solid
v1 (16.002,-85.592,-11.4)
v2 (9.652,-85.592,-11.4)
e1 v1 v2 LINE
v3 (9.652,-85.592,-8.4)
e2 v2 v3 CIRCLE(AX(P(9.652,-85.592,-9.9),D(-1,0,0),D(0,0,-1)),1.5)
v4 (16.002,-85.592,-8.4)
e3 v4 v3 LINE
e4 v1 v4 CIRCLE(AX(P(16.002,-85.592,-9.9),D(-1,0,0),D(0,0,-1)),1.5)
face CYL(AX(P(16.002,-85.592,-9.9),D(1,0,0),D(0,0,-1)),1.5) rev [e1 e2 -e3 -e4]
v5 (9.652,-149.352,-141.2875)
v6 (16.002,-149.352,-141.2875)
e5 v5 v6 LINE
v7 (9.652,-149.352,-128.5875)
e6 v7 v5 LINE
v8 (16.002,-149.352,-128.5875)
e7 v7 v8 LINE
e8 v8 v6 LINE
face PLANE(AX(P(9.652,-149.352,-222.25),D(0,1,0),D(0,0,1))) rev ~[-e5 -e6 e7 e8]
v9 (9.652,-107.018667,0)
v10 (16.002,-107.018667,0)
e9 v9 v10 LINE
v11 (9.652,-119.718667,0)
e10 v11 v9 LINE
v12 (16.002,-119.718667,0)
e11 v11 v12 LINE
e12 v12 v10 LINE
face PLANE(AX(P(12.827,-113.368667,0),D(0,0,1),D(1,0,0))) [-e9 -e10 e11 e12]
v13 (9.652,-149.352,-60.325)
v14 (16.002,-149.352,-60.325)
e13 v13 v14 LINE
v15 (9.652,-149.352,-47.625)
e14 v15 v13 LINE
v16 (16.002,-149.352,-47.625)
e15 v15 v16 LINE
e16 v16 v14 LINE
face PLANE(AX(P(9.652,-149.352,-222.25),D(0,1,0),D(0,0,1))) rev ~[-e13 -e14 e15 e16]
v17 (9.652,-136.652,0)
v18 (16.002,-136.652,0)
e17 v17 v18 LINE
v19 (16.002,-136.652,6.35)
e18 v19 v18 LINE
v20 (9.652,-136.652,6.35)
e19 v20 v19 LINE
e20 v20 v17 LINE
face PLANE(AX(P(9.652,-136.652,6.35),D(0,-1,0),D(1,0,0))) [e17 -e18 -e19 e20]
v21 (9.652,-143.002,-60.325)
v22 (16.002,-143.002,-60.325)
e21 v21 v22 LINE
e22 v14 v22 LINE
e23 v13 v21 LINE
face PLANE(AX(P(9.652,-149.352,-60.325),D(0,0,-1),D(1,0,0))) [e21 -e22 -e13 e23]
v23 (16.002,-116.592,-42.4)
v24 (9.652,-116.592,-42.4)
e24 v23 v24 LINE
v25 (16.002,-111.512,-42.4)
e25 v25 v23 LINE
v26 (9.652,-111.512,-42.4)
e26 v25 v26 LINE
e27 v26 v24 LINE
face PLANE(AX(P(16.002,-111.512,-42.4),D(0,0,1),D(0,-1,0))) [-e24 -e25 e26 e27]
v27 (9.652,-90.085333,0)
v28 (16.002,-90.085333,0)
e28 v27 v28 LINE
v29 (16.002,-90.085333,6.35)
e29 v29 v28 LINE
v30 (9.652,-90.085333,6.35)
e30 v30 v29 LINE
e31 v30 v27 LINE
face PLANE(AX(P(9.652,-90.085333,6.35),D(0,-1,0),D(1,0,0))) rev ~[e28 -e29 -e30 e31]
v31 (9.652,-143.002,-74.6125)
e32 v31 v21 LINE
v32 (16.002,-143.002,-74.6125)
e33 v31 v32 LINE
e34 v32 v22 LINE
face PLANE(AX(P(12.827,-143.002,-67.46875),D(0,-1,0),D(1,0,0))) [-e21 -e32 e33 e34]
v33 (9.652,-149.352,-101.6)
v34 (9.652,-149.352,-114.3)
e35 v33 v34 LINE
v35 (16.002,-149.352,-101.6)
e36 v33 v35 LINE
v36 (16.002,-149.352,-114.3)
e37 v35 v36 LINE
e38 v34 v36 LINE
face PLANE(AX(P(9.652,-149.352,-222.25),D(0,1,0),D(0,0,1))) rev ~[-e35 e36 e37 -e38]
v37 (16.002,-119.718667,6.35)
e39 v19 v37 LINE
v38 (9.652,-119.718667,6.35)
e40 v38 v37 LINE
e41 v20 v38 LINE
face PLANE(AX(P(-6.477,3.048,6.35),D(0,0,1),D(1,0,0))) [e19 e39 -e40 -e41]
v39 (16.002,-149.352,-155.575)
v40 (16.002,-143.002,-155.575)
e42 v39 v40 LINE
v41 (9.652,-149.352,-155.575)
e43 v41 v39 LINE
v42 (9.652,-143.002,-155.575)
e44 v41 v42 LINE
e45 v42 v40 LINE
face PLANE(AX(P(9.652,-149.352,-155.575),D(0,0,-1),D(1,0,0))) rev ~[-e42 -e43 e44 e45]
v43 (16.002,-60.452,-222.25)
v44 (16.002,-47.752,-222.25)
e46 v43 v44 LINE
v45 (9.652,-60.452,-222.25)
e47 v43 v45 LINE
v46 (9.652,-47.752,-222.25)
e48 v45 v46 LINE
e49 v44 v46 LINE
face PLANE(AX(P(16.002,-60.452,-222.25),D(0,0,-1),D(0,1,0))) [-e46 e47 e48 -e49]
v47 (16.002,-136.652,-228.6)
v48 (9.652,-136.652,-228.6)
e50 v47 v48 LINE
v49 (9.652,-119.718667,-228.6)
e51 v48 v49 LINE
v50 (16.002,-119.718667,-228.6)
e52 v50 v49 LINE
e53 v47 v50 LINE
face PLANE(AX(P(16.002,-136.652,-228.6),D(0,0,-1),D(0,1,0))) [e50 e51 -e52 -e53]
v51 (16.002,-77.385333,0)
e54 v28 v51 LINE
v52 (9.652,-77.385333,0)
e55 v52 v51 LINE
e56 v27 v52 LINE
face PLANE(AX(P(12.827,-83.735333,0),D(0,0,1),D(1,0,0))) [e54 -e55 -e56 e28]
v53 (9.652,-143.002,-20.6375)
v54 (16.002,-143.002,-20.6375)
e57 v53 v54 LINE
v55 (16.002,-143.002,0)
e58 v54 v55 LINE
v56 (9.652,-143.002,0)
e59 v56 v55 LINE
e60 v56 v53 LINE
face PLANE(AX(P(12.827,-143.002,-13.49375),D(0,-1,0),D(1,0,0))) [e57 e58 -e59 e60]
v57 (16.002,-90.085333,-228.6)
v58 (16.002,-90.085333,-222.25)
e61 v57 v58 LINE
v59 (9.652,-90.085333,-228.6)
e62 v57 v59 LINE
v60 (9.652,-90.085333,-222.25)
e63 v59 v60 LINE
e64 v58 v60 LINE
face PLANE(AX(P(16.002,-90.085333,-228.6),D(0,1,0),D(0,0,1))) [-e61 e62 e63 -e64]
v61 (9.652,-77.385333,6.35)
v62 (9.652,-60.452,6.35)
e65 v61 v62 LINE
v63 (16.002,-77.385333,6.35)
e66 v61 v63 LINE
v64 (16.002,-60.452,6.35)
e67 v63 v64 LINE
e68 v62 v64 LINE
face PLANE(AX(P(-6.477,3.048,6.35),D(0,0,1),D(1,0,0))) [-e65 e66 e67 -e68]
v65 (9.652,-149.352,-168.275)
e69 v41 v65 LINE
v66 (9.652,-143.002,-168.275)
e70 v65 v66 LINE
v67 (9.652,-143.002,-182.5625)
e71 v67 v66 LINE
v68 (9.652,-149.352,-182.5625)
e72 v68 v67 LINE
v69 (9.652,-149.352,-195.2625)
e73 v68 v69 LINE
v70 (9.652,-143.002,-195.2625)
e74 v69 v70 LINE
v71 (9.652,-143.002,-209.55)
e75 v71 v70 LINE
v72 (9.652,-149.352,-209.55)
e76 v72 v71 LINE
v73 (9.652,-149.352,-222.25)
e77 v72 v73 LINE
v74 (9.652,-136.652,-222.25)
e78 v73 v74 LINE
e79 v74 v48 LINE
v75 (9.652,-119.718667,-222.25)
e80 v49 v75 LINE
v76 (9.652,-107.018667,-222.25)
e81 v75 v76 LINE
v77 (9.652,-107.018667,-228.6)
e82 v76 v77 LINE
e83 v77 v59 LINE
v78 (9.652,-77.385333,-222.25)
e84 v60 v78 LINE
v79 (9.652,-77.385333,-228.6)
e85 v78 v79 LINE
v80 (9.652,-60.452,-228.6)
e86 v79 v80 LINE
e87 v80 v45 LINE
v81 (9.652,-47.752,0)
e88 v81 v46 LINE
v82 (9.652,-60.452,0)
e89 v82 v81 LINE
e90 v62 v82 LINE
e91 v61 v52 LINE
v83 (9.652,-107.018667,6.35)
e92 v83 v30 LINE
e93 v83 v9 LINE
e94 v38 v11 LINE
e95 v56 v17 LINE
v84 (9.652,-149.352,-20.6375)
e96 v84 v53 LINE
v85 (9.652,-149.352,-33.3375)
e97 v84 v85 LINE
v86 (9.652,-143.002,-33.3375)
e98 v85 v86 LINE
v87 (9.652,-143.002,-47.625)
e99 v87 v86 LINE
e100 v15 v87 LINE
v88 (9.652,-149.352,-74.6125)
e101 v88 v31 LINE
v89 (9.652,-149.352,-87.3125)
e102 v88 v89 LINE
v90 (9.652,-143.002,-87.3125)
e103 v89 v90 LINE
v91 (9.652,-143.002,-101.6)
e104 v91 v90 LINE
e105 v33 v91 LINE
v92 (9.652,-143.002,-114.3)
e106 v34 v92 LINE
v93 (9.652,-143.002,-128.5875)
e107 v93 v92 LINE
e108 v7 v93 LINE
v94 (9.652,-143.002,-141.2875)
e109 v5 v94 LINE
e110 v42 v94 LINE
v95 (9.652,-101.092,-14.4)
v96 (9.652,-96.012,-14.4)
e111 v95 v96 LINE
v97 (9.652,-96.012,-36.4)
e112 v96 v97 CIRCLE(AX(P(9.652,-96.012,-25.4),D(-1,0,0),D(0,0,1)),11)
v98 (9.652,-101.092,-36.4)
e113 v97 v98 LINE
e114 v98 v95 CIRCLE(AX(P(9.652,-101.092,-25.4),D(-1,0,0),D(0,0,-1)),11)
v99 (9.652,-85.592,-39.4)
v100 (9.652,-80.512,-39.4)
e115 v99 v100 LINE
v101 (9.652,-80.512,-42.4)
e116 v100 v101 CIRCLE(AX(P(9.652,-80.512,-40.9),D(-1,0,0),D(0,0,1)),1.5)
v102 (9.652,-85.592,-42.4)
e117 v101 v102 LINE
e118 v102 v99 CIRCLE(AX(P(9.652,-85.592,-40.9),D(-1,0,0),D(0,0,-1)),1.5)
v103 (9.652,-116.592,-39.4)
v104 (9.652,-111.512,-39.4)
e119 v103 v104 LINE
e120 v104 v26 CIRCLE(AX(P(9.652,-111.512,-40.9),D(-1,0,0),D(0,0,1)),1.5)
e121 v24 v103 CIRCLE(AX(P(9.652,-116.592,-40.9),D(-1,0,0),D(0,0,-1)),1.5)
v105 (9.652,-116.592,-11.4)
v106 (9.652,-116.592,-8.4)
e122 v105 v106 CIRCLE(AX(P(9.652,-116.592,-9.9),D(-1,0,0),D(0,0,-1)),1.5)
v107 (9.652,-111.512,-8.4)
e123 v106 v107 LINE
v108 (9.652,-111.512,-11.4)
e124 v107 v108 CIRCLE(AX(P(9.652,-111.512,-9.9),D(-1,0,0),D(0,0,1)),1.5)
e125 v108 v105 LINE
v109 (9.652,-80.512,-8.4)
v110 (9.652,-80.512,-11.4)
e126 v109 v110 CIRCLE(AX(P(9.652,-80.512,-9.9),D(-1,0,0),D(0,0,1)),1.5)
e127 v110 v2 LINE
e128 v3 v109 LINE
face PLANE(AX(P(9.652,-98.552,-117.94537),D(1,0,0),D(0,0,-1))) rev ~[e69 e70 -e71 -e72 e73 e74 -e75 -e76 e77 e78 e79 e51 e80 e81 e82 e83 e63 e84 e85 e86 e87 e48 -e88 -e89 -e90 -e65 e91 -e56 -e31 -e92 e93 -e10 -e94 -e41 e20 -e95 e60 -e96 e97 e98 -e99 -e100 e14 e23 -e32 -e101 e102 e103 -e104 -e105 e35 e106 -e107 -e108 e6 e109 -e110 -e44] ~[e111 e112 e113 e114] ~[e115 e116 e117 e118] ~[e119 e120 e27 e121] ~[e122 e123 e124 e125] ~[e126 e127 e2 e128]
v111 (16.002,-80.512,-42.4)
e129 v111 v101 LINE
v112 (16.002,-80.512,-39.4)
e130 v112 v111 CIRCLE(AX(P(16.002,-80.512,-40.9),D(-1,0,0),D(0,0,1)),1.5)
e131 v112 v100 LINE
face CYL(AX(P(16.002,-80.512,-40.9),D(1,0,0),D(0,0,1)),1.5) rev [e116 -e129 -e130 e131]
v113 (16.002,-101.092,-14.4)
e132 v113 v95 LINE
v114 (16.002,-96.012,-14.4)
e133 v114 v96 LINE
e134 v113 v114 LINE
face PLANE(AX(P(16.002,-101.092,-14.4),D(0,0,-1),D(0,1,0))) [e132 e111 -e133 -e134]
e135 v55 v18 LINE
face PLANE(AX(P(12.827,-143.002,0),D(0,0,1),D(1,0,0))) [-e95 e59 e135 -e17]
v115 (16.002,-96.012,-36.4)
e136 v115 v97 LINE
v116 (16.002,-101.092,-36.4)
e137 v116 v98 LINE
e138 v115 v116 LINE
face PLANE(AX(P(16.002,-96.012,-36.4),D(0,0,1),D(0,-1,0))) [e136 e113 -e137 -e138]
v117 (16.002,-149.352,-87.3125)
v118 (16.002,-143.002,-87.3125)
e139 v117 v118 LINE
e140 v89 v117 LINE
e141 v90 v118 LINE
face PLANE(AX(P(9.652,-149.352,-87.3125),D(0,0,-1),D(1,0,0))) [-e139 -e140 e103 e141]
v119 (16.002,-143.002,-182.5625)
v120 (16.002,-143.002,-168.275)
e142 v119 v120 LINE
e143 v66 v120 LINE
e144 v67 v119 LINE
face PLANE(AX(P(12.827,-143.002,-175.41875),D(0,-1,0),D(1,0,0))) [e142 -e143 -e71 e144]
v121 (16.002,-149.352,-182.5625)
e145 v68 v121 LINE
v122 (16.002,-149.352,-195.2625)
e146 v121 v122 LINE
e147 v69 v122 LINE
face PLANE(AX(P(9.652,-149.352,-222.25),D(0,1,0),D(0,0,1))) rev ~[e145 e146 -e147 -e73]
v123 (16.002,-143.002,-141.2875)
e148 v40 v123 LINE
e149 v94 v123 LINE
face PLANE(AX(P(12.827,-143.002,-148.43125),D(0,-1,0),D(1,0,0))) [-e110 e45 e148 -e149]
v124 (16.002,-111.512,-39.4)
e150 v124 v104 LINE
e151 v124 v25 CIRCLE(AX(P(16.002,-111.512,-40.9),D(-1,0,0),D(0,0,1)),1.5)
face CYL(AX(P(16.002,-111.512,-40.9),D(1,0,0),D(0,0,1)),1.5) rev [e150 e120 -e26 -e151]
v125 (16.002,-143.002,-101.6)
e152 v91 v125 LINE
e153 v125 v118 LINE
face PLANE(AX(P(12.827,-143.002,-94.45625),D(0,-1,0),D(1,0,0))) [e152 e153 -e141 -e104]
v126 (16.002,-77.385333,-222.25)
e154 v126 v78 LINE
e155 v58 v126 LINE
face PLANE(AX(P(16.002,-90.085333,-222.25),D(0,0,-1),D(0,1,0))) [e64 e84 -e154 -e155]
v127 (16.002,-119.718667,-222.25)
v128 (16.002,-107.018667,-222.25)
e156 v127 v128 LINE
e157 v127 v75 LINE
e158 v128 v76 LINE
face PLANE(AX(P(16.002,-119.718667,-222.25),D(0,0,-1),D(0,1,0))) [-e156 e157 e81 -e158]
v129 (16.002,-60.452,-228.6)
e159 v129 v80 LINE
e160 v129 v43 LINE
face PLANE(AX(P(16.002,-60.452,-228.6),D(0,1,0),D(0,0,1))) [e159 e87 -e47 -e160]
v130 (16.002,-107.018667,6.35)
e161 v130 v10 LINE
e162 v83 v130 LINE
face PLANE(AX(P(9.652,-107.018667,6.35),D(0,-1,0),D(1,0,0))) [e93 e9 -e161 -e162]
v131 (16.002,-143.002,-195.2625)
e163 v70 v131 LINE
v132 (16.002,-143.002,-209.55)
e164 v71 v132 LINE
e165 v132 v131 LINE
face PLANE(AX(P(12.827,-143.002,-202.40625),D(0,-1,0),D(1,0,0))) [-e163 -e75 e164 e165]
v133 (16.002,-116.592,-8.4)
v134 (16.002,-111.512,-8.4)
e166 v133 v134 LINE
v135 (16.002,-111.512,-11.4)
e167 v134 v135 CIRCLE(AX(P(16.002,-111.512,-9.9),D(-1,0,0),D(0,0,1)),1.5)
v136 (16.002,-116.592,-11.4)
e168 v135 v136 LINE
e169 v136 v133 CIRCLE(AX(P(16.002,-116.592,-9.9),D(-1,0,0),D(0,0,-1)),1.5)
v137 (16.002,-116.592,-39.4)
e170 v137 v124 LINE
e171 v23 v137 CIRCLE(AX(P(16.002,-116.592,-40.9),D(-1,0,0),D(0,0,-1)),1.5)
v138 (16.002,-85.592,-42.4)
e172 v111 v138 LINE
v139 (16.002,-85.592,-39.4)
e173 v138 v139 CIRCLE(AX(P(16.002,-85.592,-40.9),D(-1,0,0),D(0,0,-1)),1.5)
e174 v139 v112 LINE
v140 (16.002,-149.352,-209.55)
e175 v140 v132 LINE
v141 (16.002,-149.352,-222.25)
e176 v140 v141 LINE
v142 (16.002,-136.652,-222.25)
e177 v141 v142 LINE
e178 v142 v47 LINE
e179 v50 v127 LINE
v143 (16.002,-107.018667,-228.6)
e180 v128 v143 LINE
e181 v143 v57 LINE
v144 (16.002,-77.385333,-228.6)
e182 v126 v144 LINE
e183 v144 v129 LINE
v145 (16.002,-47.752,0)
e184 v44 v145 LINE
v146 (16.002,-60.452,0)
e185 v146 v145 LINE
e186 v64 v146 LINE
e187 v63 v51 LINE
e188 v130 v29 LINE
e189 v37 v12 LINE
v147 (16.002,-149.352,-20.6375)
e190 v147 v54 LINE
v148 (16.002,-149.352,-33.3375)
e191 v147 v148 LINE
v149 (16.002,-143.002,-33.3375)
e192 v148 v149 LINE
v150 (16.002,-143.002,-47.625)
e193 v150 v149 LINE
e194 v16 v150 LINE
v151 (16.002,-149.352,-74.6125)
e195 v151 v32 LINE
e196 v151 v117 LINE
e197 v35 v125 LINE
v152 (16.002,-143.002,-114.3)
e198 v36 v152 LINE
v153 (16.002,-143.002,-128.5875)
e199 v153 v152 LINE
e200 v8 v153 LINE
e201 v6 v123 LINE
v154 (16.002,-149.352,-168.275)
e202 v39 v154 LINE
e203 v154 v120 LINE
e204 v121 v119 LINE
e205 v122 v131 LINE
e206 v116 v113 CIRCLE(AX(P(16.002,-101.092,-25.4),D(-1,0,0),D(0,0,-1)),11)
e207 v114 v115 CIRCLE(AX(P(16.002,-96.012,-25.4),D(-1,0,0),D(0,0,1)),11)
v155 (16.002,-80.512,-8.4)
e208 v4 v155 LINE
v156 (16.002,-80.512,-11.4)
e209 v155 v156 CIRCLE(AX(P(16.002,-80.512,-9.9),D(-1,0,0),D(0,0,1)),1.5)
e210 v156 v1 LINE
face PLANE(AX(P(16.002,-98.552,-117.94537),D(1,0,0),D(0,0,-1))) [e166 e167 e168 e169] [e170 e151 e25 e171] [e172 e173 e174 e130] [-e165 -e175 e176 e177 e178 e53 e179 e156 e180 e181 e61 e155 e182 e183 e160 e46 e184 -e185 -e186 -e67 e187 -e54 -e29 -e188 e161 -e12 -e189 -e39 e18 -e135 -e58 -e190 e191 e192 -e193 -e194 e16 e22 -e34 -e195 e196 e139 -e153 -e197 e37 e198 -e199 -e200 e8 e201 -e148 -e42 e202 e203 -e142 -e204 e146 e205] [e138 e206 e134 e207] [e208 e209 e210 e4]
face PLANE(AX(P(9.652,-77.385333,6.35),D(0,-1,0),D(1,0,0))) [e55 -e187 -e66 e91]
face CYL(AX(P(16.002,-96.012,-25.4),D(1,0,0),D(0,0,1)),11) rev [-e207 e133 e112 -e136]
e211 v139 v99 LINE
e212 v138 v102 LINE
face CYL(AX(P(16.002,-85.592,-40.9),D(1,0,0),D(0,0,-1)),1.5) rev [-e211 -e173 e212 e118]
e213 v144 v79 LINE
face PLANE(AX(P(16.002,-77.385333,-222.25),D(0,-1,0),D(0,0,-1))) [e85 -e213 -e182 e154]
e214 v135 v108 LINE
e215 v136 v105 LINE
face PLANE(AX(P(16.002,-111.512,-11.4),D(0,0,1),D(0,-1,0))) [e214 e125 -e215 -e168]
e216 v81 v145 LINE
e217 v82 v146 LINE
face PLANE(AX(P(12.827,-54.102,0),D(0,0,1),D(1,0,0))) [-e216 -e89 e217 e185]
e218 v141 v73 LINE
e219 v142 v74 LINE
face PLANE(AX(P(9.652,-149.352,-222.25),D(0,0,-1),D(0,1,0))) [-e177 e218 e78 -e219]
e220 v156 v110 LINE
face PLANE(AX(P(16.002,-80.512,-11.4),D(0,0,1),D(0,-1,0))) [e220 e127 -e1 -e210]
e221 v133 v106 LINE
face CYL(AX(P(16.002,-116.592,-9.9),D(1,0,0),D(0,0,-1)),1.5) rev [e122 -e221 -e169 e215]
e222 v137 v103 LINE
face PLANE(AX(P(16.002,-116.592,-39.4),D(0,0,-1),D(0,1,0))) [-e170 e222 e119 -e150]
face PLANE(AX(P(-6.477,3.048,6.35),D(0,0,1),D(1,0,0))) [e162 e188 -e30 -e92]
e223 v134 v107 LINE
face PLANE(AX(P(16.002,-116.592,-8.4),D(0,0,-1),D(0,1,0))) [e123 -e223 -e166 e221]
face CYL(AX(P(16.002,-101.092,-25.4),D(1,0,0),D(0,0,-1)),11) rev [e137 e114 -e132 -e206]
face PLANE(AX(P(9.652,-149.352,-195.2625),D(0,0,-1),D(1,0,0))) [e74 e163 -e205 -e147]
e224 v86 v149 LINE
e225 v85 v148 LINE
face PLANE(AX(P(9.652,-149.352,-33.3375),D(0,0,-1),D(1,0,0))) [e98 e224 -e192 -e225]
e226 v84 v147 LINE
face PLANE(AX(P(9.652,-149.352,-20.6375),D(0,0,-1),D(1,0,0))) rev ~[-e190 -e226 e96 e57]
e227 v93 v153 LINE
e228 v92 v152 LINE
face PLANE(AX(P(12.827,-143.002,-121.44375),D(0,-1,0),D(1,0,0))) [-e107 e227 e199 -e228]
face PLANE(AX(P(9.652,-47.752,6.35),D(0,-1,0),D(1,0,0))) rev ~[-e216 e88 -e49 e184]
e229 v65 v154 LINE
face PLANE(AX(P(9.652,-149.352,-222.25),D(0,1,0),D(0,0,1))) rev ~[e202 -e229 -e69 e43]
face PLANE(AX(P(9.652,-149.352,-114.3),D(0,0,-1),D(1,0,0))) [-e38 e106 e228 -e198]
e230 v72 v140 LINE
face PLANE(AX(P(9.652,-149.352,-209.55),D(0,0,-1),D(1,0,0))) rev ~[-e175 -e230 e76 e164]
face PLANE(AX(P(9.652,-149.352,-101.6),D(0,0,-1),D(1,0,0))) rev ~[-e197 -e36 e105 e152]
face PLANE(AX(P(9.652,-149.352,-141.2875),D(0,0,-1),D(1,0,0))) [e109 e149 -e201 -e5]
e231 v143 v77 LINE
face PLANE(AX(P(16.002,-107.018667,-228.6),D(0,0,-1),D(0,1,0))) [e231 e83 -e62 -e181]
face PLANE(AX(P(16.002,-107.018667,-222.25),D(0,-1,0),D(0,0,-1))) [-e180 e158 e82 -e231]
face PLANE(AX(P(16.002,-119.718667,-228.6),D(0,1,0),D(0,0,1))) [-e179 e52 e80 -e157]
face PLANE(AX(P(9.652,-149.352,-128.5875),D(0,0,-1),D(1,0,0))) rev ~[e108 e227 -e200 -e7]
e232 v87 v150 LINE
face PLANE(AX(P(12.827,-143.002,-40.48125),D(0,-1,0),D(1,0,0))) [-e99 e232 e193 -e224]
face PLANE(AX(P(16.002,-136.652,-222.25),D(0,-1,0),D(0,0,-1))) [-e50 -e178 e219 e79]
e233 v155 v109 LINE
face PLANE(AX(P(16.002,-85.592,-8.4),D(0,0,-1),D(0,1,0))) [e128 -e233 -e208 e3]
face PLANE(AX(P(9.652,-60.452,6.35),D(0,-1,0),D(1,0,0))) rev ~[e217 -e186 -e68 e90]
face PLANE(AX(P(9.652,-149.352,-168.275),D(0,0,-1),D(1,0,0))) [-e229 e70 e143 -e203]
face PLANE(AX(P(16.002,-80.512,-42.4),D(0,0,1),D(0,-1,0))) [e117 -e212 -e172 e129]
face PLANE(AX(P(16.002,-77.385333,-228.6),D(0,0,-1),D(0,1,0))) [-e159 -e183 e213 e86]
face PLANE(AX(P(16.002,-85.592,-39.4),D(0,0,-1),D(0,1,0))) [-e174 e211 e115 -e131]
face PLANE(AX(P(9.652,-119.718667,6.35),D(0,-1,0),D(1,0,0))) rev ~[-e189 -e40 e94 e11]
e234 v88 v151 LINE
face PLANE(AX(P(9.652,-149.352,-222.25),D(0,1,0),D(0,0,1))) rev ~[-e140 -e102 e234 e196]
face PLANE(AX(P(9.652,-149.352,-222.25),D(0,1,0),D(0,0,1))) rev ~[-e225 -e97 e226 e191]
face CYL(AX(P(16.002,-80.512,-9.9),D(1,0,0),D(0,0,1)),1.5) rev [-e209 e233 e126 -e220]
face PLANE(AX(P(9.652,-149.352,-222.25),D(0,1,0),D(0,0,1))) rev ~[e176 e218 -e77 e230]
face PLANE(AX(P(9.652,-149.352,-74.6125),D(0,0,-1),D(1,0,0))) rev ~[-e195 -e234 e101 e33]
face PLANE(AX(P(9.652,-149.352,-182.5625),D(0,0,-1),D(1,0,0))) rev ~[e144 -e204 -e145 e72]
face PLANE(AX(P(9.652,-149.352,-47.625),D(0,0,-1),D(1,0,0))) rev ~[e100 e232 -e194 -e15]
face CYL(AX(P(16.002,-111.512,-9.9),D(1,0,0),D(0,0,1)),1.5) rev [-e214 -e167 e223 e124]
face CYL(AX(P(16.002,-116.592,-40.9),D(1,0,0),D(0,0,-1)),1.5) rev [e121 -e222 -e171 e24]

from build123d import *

# Parameters (mm, degrees)
SKETCH1_W               = 44.958
SKETCH1_H               = 304.8
BOSS_EXTRUDE1_DEPTH     = 6.35
SKETCH2_W               = 6.35
SKETCH2_H               = 101.6
BOSS_EXTRUDE2_DEPTH     = 6.35
SKETCH3_W               = 222.25
SKETCH3_H               = 6.35
BOSS_EXTRUDE3_DEPTH     = 38.608
SKETCH8_W               = 6.35
SKETCH8_H               = 213.451350416
CUT_EXTRUDE4_DEPTH      = 1
CUT_EXTRUDE4_DEPTH_BACK = 235.95
SKETCH6_W               = 6.35
SKETCH6_H               = 12.7
CUT_EXTRUDE5_DEPTH      = 6.35
SKETCH4_3_W             = 6.35
SKETCH4_3_H             = 14.2875
SKETCH4_3_H_2           = 6.35
CUT_EXTRUDE6_DEPTH      = 6.35


with BuildPart() as part:
    # Sketch1 → Boss-Extrude1 (new body)
    with BuildSketch(Plane.XY):
        with Locations((-6.477, 3.048)):
            Rectangle(SKETCH1_W, SKETCH1_H)
        with BuildLine():
            Line((-3.302, 133.858), (-3.302, -143.002))
            Line((-3.302, -143.002), (3.302, -143.002))
            Line((3.302, -143.002), (3.302, 143.002))
            Line((3.302, 143.002), (-16.256, 143.002))
            Line((-16.256, 143.002), (-16.256, 136.398))
            Line((-16.256, 136.398), (-5.842, 136.398))
            ThreePointArc((-5.842, 136.398), (-4.045948776, 135.654051224), (-3.302, 133.858))
        make_face(mode=Mode.SUBTRACT)
    extrude(amount=BOSS_EXTRUDE1_DEPTH)

    # Sketch2 → Boss-Extrude2 (add)
    with BuildSketch(Plane(origin=(16.002, 0, 0), x_dir=(0, 0, -1), z_dir=(1, 0, 0))):
        Polygon((222.25, -60.452), (222.25, -47.752), (0, -47.752), (0, -149.352), (222.25, -149.352), (222.25, -136.652), (228.6, -136.652), (228.6, -119.718666667), (222.25, -119.718666667), (222.25, -107.018666667), (228.6, -107.018666667), (228.6, -90.085333333), (222.25, -90.085333333), (222.25, -77.385333333), (228.6, -77.385333333), (228.6, -60.452), align=None)
        with BuildLine():
            ThreePointArc((11.4, -116.592), (9.9, -118.092), (8.4, -116.592))
            Line((8.4, -116.592), (8.4, -111.512))
            ThreePointArc((8.4, -111.512), (9.9, -110.012), (11.4, -111.512))
            Line((11.4, -111.512), (11.4, -116.592))
        make_face(mode=Mode.SUBTRACT)
        with BuildLine():
            Line((42.4, -111.512), (42.4, -116.592))
            ThreePointArc((42.4, -116.592), (40.9, -118.092), (39.4, -116.592))
            Line((39.4, -116.592), (39.4, -111.512))
            ThreePointArc((39.4, -111.512), (40.9, -110.012), (42.4, -111.512))
        make_face(mode=Mode.SUBTRACT)
        with BuildLine():
            ThreePointArc((36.4, -101.092), (25.4, -112.092), (14.4, -101.092))
            Line((14.4, -101.092), (14.4, -96.012))
            ThreePointArc((14.4, -96.012), (25.4, -85.012), (36.4, -96.012))
            Line((36.4, -96.012), (36.4, -101.092))
        make_face(mode=Mode.SUBTRACT)
        with BuildLine():
            ThreePointArc((11.4, -85.592), (9.9, -87.092), (8.4, -85.592))
            Line((8.4, -85.592), (8.4, -80.512))
            ThreePointArc((8.4, -80.512), (9.9, -79.012), (11.4, -80.512))
            Line((11.4, -80.512), (11.4, -85.592))
        make_face(mode=Mode.SUBTRACT)
        with BuildLine():
            ThreePointArc((42.4, -85.592), (40.9, -87.092), (39.4, -85.592))
            Line((39.4, -85.592), (39.4, -80.512))
            ThreePointArc((39.4, -80.512), (40.9, -79.012), (42.4, -80.512))
            Line((42.4, -80.512), (42.4, -85.592))
        make_face(mode=Mode.SUBTRACT)
        with Locations((-3.175, -98.552)):
            Rectangle(SKETCH2_W, SKETCH2_H)
    extrude(amount=-BOSS_EXTRUDE2_DEPTH)

    # Sketch3 → Boss-Extrude3 (add)
    with BuildSketch(Plane.ZY.offset(-9.652)):
        with Locations((-111.125, -146.177)):
            Rectangle(SKETCH3_W, SKETCH3_H)
    extrude(amount=BOSS_EXTRUDE3_DEPTH)

    # Sketch8 → Cut-Extrude4 (cut, two sides)
    with BuildSketch(Plane.XY.offset(6.35)) as cut_extrude4_sk:
        Polygon((-28.956, -149.352), (9.652, -149.352), (9.652, -47.752), (9.652, 155.448), (-28.956, 155.448), align=None)
        with BuildLine():
            Line((-16.256, 136.398), (-16.256, 143.002))
            Line((-16.256, 143.002), (3.302, 143.002))
            Line((3.302, 143.002), (3.302, -143.002))
            Line((3.302, -143.002), (-3.302, -143.002))
            Line((-3.302, -143.002), (-3.302, 133.858))
            ThreePointArc((-3.302, 133.858), (-4.045948776, 135.654051224), (-5.842, 136.398))
            Line((-5.842, 136.398), (-16.256, 136.398))
        make_face(mode=Mode.SUBTRACT)
        Polygon((-54.223542679, -149.352), (-28.956, -149.352), (-28.956, 155.448), (9.652, 155.448), (9.652, 165.699350416), (-54.223542679, 165.699350416), align=None)
        with Locations((12.827, 58.973675208)):
            Rectangle(SKETCH8_W, SKETCH8_H)
    extrude(amount=CUT_EXTRUDE4_DEPTH, mode=Mode.SUBTRACT)
    extrude(cut_extrude4_sk.sketch, amount=-CUT_EXTRUDE4_DEPTH_BACK, mode=Mode.SUBTRACT)

    # Sketch6 → Cut-Extrude5 (cut)
    with BuildSketch(Plane.XY.offset(6.35)):
        with Locations((12.827, -54.102)):
            Rectangle(SKETCH6_W, SKETCH6_H)
        with Locations((12.827, -83.735333333)):
            Rectangle(SKETCH6_W, SKETCH6_H)
        with Locations((12.827, -113.368666667)):
            Rectangle(SKETCH6_W, SKETCH6_H)
        with Locations((12.827, -143.002)):
            Rectangle(SKETCH6_W, SKETCH6_H)
    extrude(amount=-CUT_EXTRUDE5_DEPTH, mode=Mode.SUBTRACT)

    # Sketch4<3> → Cut-Extrude6 (cut)
    with BuildSketch(Plane.XZ.offset(149.352)):
        with Locations((12.827, -13.49375)):
            Rectangle(SKETCH4_3_W, SKETCH4_3_H)
        with Locations((12.827, -40.48125)):
            Rectangle(SKETCH4_3_W, SKETCH4_3_H)
        with Locations((12.827, -67.46875)):
            Rectangle(SKETCH4_3_W, SKETCH4_3_H)
        with Locations((12.827, -94.45625)):
            Rectangle(SKETCH4_3_W, SKETCH4_3_H)
        with Locations((12.827, -121.44375)):
            Rectangle(SKETCH4_3_W, SKETCH4_3_H)
        with Locations((12.827, -148.43125)):
            Rectangle(SKETCH4_3_W, SKETCH4_3_H)
        with Locations((12.827, -175.41875)):
            Rectangle(SKETCH4_3_W, SKETCH4_3_H)
        with Locations((12.827, -202.40625)):
            Rectangle(SKETCH4_3_W, SKETCH4_3_H)
        with Locations((12.827, -3.175)):
            Rectangle(SKETCH4_3_W, SKETCH4_3_H_2)
        with Locations((12.827, 3.175)):
            Rectangle(SKETCH4_3_W, SKETCH4_3_H_2)
    extrude(amount=-CUT_EXTRUDE6_DEPTH, mode=Mode.SUBTRACT)


solid = part.part
